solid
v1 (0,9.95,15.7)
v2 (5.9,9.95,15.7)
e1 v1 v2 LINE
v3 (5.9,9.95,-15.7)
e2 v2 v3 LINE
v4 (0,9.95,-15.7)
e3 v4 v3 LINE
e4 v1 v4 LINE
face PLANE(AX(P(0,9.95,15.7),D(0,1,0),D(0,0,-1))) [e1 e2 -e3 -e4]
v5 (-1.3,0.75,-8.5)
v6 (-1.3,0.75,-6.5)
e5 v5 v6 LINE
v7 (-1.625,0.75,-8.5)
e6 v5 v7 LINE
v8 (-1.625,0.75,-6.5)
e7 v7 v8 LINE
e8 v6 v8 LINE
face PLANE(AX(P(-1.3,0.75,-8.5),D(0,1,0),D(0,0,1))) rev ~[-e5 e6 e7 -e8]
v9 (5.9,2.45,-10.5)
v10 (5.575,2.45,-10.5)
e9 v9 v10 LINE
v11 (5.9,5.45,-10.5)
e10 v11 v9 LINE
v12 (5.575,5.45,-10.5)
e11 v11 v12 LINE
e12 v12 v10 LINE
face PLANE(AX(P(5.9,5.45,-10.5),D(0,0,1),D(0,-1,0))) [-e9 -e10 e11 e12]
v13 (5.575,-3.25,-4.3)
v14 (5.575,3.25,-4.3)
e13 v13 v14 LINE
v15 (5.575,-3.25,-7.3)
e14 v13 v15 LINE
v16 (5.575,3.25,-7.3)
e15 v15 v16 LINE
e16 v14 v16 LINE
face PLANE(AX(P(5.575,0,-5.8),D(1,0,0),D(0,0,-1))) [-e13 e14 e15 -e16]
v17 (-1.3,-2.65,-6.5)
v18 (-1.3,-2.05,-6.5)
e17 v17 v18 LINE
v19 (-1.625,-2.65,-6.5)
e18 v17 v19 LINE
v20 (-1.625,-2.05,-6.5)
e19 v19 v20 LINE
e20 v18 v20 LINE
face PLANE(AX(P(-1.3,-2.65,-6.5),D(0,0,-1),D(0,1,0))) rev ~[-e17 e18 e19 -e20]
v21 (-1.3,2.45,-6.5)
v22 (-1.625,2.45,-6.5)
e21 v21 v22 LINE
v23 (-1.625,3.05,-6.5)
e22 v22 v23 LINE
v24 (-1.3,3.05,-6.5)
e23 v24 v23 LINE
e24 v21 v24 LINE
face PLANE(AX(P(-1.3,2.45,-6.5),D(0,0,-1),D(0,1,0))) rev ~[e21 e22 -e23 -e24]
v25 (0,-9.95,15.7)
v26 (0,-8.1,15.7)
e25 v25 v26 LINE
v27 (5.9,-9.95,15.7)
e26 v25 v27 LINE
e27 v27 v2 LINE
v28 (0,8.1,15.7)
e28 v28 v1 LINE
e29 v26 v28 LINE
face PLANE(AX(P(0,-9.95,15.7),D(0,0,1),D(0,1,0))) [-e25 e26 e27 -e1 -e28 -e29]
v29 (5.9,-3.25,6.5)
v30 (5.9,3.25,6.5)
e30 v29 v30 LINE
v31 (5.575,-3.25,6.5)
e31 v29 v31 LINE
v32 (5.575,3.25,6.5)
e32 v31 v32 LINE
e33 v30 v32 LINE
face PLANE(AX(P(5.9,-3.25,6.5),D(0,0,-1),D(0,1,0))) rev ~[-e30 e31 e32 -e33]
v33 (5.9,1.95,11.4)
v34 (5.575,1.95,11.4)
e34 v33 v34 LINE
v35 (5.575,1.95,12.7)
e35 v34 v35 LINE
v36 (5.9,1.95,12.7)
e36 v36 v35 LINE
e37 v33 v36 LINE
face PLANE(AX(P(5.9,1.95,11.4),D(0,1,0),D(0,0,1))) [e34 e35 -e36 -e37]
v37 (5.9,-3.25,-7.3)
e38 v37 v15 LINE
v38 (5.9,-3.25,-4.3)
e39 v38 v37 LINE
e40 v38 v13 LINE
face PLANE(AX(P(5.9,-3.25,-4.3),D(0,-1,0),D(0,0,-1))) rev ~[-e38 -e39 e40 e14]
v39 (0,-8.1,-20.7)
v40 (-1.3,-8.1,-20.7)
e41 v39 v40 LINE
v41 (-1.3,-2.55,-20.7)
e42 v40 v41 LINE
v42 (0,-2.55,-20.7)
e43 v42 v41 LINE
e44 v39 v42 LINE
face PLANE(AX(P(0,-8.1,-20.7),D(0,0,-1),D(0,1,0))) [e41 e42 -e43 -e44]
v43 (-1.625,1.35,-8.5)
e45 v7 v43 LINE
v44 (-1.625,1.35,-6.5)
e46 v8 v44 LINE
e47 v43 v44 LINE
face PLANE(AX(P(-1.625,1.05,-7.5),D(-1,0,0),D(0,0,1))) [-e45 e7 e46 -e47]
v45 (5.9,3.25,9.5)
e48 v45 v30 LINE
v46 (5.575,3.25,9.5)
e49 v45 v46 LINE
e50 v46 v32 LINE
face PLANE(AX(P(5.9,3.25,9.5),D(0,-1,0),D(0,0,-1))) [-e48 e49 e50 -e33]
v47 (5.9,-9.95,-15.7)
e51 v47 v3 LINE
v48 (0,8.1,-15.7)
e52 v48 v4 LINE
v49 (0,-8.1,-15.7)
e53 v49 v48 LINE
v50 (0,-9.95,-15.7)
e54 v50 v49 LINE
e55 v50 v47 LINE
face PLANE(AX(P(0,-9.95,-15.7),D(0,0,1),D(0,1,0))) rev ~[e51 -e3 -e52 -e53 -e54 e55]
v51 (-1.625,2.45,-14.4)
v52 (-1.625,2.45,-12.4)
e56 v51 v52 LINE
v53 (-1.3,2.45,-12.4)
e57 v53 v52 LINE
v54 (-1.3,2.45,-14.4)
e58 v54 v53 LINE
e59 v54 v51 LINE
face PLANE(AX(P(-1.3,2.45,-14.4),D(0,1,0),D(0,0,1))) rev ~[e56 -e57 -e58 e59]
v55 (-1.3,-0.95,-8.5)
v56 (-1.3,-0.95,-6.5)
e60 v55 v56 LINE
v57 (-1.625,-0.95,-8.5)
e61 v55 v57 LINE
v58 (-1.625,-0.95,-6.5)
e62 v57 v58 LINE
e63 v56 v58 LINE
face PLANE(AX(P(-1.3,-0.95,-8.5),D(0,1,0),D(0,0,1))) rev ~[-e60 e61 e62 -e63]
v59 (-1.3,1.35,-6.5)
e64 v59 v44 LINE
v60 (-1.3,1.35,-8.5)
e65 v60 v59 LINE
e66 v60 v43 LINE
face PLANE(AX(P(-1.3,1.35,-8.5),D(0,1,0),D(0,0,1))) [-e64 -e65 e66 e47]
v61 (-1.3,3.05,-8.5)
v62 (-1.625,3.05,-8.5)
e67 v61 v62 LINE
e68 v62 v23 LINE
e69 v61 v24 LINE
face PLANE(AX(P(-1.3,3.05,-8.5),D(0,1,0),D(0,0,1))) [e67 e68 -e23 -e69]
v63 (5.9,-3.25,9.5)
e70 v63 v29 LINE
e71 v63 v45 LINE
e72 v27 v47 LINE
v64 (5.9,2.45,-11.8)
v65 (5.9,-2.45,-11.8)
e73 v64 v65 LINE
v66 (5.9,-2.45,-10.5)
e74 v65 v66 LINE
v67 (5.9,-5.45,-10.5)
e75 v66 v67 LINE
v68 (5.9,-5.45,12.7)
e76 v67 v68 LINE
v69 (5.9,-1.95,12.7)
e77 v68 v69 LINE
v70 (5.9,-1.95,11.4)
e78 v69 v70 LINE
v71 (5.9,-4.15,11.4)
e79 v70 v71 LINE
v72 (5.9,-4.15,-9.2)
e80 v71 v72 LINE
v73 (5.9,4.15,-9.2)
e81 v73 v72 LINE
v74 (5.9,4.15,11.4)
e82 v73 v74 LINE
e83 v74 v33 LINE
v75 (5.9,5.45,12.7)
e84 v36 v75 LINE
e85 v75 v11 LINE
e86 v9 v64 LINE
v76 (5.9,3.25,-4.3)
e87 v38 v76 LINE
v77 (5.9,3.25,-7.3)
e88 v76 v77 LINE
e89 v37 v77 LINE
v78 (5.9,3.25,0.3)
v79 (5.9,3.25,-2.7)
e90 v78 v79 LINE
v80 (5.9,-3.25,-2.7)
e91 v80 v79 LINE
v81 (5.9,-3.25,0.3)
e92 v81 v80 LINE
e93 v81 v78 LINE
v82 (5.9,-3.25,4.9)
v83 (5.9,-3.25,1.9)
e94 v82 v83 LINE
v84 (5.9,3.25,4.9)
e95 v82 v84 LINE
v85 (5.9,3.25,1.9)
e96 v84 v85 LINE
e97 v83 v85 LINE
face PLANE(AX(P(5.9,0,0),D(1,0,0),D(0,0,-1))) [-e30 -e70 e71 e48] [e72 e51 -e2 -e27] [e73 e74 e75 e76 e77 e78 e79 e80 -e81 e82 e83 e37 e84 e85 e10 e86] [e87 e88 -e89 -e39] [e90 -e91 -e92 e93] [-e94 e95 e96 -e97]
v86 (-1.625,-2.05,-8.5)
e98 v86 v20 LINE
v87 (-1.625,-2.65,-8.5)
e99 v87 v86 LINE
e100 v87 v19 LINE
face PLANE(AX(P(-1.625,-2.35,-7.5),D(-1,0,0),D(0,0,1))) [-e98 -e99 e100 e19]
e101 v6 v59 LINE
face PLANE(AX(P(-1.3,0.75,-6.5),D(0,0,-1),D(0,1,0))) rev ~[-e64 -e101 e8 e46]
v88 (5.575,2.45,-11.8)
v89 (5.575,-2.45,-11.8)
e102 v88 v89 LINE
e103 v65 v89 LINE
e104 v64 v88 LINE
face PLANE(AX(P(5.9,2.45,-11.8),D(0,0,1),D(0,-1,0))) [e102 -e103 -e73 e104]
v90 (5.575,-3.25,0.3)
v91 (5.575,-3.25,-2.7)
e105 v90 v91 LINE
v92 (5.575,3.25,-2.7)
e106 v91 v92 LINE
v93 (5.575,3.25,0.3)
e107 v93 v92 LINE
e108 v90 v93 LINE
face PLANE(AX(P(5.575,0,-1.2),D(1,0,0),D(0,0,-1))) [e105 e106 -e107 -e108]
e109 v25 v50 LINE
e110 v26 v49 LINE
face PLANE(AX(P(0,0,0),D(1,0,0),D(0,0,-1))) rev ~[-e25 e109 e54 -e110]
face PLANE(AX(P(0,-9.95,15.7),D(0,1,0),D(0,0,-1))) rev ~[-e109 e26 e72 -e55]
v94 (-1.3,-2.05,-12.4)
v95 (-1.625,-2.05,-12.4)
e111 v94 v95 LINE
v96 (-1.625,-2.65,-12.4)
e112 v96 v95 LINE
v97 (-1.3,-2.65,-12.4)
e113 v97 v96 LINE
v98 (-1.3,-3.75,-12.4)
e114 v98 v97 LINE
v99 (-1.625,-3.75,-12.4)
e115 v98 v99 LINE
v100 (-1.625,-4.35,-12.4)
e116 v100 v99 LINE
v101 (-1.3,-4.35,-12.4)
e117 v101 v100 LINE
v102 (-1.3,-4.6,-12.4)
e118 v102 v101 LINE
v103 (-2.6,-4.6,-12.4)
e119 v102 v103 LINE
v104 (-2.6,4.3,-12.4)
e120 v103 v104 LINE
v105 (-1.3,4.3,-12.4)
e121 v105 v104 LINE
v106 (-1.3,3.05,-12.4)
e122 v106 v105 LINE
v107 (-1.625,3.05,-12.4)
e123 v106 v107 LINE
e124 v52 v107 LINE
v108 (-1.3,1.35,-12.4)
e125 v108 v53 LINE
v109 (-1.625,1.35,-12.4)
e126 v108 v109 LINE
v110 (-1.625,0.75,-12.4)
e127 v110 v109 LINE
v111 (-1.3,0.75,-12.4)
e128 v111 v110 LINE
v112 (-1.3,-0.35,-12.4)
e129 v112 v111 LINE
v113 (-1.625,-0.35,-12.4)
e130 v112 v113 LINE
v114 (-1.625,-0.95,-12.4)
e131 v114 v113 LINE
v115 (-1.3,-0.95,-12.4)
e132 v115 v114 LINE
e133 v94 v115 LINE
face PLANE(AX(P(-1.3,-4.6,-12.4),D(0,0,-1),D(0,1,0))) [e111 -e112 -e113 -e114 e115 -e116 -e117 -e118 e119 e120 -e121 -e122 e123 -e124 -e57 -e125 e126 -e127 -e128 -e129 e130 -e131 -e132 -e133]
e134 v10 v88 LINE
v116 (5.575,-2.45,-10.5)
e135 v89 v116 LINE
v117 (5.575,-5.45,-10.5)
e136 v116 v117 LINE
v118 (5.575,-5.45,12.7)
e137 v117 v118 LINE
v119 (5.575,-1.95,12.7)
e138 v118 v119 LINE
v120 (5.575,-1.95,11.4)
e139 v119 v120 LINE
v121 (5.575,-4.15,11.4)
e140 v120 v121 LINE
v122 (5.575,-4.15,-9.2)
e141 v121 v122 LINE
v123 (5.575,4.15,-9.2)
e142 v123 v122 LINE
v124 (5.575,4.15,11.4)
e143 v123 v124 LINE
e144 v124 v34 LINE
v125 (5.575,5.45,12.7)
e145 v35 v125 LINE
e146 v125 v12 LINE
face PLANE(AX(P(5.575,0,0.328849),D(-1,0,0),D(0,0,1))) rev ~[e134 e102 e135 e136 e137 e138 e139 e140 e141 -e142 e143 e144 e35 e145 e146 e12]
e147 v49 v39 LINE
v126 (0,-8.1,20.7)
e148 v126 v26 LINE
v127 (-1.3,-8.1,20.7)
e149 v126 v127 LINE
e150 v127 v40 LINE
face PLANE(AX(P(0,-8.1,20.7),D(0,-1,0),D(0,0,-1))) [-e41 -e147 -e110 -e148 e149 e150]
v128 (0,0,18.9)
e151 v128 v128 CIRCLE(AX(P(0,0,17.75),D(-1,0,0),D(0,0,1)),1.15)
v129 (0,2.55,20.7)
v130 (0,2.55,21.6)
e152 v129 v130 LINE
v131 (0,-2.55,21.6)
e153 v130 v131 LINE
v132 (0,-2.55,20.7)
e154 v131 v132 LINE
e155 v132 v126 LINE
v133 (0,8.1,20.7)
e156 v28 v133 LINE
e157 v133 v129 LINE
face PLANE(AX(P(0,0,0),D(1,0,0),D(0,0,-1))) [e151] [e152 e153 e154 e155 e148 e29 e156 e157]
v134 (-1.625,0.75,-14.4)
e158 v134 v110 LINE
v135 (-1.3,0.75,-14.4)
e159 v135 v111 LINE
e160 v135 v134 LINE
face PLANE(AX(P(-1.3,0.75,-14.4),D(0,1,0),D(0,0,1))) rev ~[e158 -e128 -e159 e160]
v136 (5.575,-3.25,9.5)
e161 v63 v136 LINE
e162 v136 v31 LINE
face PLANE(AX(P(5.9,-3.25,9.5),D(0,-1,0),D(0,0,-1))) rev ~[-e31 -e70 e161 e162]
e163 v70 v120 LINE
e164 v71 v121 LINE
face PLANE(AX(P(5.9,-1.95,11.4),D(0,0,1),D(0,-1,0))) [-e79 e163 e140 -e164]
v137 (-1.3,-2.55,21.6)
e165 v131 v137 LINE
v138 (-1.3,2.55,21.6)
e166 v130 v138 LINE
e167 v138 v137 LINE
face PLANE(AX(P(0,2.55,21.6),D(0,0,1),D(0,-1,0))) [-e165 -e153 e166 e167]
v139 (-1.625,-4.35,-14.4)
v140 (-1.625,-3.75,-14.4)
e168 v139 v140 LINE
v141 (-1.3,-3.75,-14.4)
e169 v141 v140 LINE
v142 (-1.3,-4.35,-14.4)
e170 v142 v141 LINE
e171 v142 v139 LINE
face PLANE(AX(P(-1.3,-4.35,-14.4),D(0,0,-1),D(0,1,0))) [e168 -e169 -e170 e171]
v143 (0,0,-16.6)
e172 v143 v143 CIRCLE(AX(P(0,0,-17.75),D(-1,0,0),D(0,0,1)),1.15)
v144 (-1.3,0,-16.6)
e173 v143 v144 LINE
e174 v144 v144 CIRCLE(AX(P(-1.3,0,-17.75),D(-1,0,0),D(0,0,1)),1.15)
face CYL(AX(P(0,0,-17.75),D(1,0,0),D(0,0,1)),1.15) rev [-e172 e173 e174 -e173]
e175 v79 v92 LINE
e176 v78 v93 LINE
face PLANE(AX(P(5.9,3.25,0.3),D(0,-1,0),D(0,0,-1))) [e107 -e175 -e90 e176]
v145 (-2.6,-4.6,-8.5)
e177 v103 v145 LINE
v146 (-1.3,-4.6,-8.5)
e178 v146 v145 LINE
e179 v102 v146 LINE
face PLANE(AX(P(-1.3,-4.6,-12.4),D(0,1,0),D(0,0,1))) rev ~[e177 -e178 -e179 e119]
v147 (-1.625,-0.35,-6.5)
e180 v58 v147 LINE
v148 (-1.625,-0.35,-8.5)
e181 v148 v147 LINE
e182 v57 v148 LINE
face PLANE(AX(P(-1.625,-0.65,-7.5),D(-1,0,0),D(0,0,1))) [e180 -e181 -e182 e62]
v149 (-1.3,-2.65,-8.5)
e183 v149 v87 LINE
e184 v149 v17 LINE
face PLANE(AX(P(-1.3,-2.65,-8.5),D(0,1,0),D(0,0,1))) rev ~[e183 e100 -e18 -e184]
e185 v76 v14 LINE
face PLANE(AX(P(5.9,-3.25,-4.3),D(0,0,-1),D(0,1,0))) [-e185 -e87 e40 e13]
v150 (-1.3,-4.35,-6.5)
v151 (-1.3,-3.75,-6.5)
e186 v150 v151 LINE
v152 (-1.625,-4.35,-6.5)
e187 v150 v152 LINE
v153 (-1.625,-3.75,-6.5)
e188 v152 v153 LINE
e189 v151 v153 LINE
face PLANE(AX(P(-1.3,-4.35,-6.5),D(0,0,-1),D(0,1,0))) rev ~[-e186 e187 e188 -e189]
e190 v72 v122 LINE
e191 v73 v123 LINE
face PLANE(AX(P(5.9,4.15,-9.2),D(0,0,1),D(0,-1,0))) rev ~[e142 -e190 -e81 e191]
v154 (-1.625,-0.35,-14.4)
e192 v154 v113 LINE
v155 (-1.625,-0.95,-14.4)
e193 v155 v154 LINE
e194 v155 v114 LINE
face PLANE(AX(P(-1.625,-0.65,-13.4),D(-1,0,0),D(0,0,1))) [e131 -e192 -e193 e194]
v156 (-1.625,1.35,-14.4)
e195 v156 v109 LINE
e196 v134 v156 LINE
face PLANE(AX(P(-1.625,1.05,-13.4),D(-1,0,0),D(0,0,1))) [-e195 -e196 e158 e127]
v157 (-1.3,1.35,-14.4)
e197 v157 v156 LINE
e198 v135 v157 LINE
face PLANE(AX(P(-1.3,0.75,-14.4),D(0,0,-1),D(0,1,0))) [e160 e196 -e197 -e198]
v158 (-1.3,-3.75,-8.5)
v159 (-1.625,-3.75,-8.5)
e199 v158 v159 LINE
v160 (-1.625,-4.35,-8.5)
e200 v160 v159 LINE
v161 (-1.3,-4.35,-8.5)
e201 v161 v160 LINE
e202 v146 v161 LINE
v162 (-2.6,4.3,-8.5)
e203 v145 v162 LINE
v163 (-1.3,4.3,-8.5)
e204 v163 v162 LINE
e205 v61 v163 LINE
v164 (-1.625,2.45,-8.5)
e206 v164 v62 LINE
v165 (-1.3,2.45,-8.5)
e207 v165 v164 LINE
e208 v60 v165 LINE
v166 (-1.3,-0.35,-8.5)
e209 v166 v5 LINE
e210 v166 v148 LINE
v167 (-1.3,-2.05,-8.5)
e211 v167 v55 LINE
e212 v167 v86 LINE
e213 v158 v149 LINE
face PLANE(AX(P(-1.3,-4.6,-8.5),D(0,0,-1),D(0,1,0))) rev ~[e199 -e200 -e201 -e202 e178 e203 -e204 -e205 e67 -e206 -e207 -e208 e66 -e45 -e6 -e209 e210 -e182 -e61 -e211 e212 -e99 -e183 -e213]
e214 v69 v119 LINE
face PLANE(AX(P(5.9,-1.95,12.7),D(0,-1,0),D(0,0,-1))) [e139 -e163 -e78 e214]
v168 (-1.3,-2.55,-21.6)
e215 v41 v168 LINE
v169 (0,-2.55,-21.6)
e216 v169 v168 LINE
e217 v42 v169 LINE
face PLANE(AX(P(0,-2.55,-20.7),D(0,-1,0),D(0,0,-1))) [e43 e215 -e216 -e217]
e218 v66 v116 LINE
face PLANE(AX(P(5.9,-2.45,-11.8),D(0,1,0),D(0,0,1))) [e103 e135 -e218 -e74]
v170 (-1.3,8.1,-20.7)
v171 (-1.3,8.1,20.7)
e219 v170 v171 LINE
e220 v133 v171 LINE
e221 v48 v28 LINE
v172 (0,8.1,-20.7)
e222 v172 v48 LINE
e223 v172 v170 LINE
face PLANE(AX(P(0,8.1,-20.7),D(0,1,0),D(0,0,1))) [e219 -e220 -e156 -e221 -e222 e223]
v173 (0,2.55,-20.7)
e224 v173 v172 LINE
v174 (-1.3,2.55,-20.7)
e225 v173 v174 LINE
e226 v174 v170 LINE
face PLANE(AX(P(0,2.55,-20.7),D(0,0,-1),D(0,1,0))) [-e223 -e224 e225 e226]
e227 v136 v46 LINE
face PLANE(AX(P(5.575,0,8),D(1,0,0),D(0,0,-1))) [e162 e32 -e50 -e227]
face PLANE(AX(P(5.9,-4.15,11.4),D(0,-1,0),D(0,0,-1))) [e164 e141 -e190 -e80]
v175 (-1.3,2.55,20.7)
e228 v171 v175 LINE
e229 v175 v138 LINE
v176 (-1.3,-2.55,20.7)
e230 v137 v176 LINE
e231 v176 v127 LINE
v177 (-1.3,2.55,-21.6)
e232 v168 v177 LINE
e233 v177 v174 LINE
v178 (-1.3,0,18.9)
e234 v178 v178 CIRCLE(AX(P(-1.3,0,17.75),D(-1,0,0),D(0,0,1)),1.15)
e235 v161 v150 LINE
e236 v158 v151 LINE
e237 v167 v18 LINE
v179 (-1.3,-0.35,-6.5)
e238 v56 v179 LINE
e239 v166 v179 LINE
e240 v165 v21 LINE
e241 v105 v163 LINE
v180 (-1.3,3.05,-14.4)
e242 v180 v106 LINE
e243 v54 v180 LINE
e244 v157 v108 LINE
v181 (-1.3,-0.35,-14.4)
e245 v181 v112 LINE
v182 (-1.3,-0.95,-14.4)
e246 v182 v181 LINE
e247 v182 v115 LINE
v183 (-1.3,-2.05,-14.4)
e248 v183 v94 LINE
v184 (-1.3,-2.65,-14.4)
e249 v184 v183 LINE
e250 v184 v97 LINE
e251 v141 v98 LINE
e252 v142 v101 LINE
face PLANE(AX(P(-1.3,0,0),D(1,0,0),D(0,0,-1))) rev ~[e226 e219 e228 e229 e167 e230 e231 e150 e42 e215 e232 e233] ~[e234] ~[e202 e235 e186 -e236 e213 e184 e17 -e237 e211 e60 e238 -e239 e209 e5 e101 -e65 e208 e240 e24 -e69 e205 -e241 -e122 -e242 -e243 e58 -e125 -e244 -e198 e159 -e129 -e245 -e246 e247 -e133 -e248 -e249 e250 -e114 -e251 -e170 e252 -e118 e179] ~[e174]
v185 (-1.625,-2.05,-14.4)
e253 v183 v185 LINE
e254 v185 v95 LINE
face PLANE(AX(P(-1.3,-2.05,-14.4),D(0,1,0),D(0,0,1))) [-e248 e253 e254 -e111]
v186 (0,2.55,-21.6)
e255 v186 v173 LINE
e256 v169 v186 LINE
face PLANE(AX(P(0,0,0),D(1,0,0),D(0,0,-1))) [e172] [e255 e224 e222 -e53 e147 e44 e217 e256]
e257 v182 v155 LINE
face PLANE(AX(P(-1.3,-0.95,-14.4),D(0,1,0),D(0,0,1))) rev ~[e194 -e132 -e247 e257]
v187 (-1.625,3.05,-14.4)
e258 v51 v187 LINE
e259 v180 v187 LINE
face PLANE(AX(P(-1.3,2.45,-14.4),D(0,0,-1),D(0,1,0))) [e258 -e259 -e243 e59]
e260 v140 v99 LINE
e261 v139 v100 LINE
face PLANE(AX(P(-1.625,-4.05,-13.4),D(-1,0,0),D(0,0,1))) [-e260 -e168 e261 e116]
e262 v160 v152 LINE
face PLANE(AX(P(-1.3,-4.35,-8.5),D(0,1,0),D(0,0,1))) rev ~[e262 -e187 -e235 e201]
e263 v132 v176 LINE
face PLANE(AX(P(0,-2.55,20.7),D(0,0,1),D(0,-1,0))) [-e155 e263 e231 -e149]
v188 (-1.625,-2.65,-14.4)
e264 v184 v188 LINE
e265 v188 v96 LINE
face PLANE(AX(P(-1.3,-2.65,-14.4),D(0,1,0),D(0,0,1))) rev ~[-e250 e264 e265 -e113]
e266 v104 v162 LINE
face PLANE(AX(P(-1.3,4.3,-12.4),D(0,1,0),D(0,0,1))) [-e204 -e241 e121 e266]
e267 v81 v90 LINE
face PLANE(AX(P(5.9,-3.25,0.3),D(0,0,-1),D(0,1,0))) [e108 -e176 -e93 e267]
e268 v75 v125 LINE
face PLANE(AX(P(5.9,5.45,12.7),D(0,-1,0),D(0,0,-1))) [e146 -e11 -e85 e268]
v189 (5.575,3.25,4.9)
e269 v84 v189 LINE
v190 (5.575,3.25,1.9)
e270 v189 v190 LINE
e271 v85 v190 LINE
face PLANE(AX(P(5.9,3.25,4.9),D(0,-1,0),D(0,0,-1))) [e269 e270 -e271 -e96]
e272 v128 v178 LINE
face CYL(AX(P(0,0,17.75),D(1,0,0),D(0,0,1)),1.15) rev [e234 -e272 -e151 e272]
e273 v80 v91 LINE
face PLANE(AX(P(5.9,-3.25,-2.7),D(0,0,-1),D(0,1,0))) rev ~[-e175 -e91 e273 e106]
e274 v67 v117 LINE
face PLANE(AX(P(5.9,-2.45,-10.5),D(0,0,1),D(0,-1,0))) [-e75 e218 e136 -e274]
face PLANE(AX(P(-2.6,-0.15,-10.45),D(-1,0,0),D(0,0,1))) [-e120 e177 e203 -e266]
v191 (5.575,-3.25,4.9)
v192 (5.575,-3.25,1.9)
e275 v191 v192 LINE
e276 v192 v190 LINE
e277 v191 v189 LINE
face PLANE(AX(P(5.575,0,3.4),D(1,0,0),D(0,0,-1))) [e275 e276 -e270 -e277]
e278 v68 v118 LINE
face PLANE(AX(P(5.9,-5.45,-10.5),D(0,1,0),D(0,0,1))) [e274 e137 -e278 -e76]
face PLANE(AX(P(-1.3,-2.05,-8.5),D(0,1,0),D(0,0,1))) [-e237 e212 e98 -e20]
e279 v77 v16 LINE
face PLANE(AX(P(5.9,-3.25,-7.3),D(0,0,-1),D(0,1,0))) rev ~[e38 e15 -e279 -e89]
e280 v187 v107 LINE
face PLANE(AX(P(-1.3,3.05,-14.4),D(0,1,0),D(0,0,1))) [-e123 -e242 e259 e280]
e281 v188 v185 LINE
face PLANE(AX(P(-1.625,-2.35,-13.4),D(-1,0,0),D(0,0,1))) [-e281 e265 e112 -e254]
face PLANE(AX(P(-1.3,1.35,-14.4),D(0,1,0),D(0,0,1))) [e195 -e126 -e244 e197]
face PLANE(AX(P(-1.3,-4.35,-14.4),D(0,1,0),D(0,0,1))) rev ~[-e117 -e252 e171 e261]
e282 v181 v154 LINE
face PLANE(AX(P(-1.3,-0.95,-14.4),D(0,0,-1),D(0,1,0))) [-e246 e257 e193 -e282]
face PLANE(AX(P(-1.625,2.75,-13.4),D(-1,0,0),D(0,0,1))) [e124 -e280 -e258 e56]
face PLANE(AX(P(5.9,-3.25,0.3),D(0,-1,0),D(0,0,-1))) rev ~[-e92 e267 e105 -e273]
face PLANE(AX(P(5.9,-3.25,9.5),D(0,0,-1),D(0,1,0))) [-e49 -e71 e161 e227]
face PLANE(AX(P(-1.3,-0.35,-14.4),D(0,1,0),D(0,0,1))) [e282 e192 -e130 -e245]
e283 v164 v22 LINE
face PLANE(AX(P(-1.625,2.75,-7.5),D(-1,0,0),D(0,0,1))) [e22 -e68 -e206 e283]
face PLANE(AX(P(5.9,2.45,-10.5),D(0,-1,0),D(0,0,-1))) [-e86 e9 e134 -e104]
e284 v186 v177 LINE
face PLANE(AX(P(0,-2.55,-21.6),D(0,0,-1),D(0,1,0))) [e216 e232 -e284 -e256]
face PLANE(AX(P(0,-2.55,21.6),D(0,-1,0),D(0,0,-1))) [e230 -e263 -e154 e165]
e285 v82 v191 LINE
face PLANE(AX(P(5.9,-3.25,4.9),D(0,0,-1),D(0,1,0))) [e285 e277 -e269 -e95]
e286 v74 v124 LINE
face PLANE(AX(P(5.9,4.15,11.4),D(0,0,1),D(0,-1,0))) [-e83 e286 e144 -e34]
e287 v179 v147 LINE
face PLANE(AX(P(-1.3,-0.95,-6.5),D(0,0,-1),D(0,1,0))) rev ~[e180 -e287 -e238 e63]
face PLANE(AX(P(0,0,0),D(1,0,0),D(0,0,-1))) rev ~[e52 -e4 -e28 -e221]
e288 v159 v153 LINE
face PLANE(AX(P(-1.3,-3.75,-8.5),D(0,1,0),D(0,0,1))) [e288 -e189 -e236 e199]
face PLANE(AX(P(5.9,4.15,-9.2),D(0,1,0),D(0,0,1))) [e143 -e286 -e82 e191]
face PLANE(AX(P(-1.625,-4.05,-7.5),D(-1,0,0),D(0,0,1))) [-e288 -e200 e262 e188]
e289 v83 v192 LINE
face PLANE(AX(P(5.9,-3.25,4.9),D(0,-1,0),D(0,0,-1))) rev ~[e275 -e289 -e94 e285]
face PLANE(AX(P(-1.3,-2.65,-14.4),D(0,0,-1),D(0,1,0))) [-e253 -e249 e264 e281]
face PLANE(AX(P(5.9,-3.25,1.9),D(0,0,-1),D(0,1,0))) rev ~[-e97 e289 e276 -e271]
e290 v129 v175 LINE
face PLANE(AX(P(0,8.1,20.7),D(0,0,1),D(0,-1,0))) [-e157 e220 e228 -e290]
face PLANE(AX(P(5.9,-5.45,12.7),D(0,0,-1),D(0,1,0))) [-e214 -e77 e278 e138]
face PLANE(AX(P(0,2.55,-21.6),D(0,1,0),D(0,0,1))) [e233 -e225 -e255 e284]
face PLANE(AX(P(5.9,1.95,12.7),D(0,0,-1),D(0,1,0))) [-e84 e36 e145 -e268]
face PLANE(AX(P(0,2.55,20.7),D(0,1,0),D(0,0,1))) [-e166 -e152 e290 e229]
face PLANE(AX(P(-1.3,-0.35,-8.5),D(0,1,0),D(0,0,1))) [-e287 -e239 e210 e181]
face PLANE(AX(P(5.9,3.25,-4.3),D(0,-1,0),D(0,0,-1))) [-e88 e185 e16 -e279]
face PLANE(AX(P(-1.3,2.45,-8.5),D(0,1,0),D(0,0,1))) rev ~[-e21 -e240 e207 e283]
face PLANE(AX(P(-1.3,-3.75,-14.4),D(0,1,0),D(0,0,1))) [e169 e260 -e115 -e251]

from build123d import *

# Parameters (mm, degrees)
CROQUIS1_W              = 31.4
CROQUIS1_H              = 19.9
SALIENTE_EXTRUIR1_DEPTH = 5.9
CROQUIS2_R              = 1.15
SALIENTE_EXTRUIR2_DEPTH = 1.3
CROQUIS3_W              = 3.9
CROQUIS3_H              = 8.9
SALIENTE_EXTRUIR3_DEPTH = 1.3
CROQUIS4_W              = 2
CROQUIS4_H              = 0.6
SALIENTE_EXTRUIR4_DEPTH = 0.325
MATRIZL1_COUNT          = 2
MATRIZL1_PITCH          = 5.9
MATRIZL1_COUNT_DIR2     = 5
MATRIZL1_PITCH_DIR2     = 1.7
CROQUIS5_W              = 3
CROQUIS5_H              = 6.5
CORTAR_EXTRUIR1_DEPTH   = 0.325


with BuildPart() as part:
    # Croquis1 → Saliente-Extruir1 (new body)
    with BuildSketch(Plane(origin=(0, 0, 0), x_dir=(0, 0, -1), z_dir=(1, 0, 0))):
        Rectangle(CROQUIS1_W, CROQUIS1_H)
    extrude(amount=SALIENTE_EXTRUIR1_DEPTH)

    # Croquis2 → Saliente-Extruir2 (add)
    with BuildSketch(Plane.ZY):
        Polygon((21.6, 2.55), (21.6, -2.55), (20.7, -2.55), (20.7, -8.1), (-20.7, -8.1), (-20.7, -2.55), (-21.6, -2.55), (-21.6, 2.55), (-20.7, 2.55), (-20.7, 8.1), (20.7, 8.1), (20.7, 2.55), align=None)
        with Locations((-17.75, 0)):
            Circle(CROQUIS2_R, mode=Mode.SUBTRACT)
        with Locations((17.75, 0)):
            Circle(CROQUIS2_R, mode=Mode.SUBTRACT)
    extrude(amount=SALIENTE_EXTRUIR2_DEPTH)

    # Croquis3 → Saliente-Extruir3 (add)
    with BuildSketch(Plane.ZY.offset(1.3)):
        with Locations((-10.45, -0.15)):
            Rectangle(CROQUIS3_W, CROQUIS3_H)
    extrude(amount=SALIENTE_EXTRUIR3_DEPTH)

    # Croquis4 → Saliente-Extruir4 (add)
    with BuildSketch(Plane.ZY.offset(1.3)):
        with Locations((-7.5, -4.05)):
            Rectangle(CROQUIS4_W, CROQUIS4_H)
    saliente_extruir4 = extrude(amount=SALIENTE_EXTRUIR4_DEPTH)

    # MatrizL1: Saliente-Extruir4 2 × 5
    with Locations(*[(0, j * MATRIZL1_PITCH_DIR2, -i * MATRIZL1_PITCH) for i in range(MATRIZL1_COUNT) for j in range(MATRIZL1_COUNT_DIR2) if (i, j) != (0, 0)]):
        add(saliente_extruir4)

    # Croquis5 → Cortar-Extruir1 (cut)
    with BuildSketch(Plane(origin=(5.9, 0, 0), x_dir=(0, 0, -1), z_dir=(1, 0, 0))):
        Polygon((-12.7, 1.95), (-12.7, 5.45), (10.5, 5.45), (10.5, 2.45), (11.8, 2.45), (11.8, -2.45), (10.5, -2.45), (10.5, -5.45), (-12.7, -5.45), (-12.7, -1.95), (-11.4, -1.95), (-11.4, -4.15), (9.2, -4.15), (9.2, -1.15), (9.2, 1.15), (9.2, 4.15), (-11.4, 4.15), (-11.4, 1.95), align=None)
        with Locations((1.2, 0)):
            Rectangle(CROQUIS5_W, CROQUIS5_H)
        with Locations((5.8, 0)):
            Rectangle(CROQUIS5_W, CROQUIS5_H)
        with Locations((-3.4, 0)):
            Rectangle(CROQUIS5_W, CROQUIS5_H)
        with Locations((-8, 0)):
            Rectangle(CROQUIS5_W, CROQUIS5_H)
    extrude(amount=-CORTAR_EXTRUIR1_DEPTH, mode=Mode.SUBTRACT)


solid = part.part
